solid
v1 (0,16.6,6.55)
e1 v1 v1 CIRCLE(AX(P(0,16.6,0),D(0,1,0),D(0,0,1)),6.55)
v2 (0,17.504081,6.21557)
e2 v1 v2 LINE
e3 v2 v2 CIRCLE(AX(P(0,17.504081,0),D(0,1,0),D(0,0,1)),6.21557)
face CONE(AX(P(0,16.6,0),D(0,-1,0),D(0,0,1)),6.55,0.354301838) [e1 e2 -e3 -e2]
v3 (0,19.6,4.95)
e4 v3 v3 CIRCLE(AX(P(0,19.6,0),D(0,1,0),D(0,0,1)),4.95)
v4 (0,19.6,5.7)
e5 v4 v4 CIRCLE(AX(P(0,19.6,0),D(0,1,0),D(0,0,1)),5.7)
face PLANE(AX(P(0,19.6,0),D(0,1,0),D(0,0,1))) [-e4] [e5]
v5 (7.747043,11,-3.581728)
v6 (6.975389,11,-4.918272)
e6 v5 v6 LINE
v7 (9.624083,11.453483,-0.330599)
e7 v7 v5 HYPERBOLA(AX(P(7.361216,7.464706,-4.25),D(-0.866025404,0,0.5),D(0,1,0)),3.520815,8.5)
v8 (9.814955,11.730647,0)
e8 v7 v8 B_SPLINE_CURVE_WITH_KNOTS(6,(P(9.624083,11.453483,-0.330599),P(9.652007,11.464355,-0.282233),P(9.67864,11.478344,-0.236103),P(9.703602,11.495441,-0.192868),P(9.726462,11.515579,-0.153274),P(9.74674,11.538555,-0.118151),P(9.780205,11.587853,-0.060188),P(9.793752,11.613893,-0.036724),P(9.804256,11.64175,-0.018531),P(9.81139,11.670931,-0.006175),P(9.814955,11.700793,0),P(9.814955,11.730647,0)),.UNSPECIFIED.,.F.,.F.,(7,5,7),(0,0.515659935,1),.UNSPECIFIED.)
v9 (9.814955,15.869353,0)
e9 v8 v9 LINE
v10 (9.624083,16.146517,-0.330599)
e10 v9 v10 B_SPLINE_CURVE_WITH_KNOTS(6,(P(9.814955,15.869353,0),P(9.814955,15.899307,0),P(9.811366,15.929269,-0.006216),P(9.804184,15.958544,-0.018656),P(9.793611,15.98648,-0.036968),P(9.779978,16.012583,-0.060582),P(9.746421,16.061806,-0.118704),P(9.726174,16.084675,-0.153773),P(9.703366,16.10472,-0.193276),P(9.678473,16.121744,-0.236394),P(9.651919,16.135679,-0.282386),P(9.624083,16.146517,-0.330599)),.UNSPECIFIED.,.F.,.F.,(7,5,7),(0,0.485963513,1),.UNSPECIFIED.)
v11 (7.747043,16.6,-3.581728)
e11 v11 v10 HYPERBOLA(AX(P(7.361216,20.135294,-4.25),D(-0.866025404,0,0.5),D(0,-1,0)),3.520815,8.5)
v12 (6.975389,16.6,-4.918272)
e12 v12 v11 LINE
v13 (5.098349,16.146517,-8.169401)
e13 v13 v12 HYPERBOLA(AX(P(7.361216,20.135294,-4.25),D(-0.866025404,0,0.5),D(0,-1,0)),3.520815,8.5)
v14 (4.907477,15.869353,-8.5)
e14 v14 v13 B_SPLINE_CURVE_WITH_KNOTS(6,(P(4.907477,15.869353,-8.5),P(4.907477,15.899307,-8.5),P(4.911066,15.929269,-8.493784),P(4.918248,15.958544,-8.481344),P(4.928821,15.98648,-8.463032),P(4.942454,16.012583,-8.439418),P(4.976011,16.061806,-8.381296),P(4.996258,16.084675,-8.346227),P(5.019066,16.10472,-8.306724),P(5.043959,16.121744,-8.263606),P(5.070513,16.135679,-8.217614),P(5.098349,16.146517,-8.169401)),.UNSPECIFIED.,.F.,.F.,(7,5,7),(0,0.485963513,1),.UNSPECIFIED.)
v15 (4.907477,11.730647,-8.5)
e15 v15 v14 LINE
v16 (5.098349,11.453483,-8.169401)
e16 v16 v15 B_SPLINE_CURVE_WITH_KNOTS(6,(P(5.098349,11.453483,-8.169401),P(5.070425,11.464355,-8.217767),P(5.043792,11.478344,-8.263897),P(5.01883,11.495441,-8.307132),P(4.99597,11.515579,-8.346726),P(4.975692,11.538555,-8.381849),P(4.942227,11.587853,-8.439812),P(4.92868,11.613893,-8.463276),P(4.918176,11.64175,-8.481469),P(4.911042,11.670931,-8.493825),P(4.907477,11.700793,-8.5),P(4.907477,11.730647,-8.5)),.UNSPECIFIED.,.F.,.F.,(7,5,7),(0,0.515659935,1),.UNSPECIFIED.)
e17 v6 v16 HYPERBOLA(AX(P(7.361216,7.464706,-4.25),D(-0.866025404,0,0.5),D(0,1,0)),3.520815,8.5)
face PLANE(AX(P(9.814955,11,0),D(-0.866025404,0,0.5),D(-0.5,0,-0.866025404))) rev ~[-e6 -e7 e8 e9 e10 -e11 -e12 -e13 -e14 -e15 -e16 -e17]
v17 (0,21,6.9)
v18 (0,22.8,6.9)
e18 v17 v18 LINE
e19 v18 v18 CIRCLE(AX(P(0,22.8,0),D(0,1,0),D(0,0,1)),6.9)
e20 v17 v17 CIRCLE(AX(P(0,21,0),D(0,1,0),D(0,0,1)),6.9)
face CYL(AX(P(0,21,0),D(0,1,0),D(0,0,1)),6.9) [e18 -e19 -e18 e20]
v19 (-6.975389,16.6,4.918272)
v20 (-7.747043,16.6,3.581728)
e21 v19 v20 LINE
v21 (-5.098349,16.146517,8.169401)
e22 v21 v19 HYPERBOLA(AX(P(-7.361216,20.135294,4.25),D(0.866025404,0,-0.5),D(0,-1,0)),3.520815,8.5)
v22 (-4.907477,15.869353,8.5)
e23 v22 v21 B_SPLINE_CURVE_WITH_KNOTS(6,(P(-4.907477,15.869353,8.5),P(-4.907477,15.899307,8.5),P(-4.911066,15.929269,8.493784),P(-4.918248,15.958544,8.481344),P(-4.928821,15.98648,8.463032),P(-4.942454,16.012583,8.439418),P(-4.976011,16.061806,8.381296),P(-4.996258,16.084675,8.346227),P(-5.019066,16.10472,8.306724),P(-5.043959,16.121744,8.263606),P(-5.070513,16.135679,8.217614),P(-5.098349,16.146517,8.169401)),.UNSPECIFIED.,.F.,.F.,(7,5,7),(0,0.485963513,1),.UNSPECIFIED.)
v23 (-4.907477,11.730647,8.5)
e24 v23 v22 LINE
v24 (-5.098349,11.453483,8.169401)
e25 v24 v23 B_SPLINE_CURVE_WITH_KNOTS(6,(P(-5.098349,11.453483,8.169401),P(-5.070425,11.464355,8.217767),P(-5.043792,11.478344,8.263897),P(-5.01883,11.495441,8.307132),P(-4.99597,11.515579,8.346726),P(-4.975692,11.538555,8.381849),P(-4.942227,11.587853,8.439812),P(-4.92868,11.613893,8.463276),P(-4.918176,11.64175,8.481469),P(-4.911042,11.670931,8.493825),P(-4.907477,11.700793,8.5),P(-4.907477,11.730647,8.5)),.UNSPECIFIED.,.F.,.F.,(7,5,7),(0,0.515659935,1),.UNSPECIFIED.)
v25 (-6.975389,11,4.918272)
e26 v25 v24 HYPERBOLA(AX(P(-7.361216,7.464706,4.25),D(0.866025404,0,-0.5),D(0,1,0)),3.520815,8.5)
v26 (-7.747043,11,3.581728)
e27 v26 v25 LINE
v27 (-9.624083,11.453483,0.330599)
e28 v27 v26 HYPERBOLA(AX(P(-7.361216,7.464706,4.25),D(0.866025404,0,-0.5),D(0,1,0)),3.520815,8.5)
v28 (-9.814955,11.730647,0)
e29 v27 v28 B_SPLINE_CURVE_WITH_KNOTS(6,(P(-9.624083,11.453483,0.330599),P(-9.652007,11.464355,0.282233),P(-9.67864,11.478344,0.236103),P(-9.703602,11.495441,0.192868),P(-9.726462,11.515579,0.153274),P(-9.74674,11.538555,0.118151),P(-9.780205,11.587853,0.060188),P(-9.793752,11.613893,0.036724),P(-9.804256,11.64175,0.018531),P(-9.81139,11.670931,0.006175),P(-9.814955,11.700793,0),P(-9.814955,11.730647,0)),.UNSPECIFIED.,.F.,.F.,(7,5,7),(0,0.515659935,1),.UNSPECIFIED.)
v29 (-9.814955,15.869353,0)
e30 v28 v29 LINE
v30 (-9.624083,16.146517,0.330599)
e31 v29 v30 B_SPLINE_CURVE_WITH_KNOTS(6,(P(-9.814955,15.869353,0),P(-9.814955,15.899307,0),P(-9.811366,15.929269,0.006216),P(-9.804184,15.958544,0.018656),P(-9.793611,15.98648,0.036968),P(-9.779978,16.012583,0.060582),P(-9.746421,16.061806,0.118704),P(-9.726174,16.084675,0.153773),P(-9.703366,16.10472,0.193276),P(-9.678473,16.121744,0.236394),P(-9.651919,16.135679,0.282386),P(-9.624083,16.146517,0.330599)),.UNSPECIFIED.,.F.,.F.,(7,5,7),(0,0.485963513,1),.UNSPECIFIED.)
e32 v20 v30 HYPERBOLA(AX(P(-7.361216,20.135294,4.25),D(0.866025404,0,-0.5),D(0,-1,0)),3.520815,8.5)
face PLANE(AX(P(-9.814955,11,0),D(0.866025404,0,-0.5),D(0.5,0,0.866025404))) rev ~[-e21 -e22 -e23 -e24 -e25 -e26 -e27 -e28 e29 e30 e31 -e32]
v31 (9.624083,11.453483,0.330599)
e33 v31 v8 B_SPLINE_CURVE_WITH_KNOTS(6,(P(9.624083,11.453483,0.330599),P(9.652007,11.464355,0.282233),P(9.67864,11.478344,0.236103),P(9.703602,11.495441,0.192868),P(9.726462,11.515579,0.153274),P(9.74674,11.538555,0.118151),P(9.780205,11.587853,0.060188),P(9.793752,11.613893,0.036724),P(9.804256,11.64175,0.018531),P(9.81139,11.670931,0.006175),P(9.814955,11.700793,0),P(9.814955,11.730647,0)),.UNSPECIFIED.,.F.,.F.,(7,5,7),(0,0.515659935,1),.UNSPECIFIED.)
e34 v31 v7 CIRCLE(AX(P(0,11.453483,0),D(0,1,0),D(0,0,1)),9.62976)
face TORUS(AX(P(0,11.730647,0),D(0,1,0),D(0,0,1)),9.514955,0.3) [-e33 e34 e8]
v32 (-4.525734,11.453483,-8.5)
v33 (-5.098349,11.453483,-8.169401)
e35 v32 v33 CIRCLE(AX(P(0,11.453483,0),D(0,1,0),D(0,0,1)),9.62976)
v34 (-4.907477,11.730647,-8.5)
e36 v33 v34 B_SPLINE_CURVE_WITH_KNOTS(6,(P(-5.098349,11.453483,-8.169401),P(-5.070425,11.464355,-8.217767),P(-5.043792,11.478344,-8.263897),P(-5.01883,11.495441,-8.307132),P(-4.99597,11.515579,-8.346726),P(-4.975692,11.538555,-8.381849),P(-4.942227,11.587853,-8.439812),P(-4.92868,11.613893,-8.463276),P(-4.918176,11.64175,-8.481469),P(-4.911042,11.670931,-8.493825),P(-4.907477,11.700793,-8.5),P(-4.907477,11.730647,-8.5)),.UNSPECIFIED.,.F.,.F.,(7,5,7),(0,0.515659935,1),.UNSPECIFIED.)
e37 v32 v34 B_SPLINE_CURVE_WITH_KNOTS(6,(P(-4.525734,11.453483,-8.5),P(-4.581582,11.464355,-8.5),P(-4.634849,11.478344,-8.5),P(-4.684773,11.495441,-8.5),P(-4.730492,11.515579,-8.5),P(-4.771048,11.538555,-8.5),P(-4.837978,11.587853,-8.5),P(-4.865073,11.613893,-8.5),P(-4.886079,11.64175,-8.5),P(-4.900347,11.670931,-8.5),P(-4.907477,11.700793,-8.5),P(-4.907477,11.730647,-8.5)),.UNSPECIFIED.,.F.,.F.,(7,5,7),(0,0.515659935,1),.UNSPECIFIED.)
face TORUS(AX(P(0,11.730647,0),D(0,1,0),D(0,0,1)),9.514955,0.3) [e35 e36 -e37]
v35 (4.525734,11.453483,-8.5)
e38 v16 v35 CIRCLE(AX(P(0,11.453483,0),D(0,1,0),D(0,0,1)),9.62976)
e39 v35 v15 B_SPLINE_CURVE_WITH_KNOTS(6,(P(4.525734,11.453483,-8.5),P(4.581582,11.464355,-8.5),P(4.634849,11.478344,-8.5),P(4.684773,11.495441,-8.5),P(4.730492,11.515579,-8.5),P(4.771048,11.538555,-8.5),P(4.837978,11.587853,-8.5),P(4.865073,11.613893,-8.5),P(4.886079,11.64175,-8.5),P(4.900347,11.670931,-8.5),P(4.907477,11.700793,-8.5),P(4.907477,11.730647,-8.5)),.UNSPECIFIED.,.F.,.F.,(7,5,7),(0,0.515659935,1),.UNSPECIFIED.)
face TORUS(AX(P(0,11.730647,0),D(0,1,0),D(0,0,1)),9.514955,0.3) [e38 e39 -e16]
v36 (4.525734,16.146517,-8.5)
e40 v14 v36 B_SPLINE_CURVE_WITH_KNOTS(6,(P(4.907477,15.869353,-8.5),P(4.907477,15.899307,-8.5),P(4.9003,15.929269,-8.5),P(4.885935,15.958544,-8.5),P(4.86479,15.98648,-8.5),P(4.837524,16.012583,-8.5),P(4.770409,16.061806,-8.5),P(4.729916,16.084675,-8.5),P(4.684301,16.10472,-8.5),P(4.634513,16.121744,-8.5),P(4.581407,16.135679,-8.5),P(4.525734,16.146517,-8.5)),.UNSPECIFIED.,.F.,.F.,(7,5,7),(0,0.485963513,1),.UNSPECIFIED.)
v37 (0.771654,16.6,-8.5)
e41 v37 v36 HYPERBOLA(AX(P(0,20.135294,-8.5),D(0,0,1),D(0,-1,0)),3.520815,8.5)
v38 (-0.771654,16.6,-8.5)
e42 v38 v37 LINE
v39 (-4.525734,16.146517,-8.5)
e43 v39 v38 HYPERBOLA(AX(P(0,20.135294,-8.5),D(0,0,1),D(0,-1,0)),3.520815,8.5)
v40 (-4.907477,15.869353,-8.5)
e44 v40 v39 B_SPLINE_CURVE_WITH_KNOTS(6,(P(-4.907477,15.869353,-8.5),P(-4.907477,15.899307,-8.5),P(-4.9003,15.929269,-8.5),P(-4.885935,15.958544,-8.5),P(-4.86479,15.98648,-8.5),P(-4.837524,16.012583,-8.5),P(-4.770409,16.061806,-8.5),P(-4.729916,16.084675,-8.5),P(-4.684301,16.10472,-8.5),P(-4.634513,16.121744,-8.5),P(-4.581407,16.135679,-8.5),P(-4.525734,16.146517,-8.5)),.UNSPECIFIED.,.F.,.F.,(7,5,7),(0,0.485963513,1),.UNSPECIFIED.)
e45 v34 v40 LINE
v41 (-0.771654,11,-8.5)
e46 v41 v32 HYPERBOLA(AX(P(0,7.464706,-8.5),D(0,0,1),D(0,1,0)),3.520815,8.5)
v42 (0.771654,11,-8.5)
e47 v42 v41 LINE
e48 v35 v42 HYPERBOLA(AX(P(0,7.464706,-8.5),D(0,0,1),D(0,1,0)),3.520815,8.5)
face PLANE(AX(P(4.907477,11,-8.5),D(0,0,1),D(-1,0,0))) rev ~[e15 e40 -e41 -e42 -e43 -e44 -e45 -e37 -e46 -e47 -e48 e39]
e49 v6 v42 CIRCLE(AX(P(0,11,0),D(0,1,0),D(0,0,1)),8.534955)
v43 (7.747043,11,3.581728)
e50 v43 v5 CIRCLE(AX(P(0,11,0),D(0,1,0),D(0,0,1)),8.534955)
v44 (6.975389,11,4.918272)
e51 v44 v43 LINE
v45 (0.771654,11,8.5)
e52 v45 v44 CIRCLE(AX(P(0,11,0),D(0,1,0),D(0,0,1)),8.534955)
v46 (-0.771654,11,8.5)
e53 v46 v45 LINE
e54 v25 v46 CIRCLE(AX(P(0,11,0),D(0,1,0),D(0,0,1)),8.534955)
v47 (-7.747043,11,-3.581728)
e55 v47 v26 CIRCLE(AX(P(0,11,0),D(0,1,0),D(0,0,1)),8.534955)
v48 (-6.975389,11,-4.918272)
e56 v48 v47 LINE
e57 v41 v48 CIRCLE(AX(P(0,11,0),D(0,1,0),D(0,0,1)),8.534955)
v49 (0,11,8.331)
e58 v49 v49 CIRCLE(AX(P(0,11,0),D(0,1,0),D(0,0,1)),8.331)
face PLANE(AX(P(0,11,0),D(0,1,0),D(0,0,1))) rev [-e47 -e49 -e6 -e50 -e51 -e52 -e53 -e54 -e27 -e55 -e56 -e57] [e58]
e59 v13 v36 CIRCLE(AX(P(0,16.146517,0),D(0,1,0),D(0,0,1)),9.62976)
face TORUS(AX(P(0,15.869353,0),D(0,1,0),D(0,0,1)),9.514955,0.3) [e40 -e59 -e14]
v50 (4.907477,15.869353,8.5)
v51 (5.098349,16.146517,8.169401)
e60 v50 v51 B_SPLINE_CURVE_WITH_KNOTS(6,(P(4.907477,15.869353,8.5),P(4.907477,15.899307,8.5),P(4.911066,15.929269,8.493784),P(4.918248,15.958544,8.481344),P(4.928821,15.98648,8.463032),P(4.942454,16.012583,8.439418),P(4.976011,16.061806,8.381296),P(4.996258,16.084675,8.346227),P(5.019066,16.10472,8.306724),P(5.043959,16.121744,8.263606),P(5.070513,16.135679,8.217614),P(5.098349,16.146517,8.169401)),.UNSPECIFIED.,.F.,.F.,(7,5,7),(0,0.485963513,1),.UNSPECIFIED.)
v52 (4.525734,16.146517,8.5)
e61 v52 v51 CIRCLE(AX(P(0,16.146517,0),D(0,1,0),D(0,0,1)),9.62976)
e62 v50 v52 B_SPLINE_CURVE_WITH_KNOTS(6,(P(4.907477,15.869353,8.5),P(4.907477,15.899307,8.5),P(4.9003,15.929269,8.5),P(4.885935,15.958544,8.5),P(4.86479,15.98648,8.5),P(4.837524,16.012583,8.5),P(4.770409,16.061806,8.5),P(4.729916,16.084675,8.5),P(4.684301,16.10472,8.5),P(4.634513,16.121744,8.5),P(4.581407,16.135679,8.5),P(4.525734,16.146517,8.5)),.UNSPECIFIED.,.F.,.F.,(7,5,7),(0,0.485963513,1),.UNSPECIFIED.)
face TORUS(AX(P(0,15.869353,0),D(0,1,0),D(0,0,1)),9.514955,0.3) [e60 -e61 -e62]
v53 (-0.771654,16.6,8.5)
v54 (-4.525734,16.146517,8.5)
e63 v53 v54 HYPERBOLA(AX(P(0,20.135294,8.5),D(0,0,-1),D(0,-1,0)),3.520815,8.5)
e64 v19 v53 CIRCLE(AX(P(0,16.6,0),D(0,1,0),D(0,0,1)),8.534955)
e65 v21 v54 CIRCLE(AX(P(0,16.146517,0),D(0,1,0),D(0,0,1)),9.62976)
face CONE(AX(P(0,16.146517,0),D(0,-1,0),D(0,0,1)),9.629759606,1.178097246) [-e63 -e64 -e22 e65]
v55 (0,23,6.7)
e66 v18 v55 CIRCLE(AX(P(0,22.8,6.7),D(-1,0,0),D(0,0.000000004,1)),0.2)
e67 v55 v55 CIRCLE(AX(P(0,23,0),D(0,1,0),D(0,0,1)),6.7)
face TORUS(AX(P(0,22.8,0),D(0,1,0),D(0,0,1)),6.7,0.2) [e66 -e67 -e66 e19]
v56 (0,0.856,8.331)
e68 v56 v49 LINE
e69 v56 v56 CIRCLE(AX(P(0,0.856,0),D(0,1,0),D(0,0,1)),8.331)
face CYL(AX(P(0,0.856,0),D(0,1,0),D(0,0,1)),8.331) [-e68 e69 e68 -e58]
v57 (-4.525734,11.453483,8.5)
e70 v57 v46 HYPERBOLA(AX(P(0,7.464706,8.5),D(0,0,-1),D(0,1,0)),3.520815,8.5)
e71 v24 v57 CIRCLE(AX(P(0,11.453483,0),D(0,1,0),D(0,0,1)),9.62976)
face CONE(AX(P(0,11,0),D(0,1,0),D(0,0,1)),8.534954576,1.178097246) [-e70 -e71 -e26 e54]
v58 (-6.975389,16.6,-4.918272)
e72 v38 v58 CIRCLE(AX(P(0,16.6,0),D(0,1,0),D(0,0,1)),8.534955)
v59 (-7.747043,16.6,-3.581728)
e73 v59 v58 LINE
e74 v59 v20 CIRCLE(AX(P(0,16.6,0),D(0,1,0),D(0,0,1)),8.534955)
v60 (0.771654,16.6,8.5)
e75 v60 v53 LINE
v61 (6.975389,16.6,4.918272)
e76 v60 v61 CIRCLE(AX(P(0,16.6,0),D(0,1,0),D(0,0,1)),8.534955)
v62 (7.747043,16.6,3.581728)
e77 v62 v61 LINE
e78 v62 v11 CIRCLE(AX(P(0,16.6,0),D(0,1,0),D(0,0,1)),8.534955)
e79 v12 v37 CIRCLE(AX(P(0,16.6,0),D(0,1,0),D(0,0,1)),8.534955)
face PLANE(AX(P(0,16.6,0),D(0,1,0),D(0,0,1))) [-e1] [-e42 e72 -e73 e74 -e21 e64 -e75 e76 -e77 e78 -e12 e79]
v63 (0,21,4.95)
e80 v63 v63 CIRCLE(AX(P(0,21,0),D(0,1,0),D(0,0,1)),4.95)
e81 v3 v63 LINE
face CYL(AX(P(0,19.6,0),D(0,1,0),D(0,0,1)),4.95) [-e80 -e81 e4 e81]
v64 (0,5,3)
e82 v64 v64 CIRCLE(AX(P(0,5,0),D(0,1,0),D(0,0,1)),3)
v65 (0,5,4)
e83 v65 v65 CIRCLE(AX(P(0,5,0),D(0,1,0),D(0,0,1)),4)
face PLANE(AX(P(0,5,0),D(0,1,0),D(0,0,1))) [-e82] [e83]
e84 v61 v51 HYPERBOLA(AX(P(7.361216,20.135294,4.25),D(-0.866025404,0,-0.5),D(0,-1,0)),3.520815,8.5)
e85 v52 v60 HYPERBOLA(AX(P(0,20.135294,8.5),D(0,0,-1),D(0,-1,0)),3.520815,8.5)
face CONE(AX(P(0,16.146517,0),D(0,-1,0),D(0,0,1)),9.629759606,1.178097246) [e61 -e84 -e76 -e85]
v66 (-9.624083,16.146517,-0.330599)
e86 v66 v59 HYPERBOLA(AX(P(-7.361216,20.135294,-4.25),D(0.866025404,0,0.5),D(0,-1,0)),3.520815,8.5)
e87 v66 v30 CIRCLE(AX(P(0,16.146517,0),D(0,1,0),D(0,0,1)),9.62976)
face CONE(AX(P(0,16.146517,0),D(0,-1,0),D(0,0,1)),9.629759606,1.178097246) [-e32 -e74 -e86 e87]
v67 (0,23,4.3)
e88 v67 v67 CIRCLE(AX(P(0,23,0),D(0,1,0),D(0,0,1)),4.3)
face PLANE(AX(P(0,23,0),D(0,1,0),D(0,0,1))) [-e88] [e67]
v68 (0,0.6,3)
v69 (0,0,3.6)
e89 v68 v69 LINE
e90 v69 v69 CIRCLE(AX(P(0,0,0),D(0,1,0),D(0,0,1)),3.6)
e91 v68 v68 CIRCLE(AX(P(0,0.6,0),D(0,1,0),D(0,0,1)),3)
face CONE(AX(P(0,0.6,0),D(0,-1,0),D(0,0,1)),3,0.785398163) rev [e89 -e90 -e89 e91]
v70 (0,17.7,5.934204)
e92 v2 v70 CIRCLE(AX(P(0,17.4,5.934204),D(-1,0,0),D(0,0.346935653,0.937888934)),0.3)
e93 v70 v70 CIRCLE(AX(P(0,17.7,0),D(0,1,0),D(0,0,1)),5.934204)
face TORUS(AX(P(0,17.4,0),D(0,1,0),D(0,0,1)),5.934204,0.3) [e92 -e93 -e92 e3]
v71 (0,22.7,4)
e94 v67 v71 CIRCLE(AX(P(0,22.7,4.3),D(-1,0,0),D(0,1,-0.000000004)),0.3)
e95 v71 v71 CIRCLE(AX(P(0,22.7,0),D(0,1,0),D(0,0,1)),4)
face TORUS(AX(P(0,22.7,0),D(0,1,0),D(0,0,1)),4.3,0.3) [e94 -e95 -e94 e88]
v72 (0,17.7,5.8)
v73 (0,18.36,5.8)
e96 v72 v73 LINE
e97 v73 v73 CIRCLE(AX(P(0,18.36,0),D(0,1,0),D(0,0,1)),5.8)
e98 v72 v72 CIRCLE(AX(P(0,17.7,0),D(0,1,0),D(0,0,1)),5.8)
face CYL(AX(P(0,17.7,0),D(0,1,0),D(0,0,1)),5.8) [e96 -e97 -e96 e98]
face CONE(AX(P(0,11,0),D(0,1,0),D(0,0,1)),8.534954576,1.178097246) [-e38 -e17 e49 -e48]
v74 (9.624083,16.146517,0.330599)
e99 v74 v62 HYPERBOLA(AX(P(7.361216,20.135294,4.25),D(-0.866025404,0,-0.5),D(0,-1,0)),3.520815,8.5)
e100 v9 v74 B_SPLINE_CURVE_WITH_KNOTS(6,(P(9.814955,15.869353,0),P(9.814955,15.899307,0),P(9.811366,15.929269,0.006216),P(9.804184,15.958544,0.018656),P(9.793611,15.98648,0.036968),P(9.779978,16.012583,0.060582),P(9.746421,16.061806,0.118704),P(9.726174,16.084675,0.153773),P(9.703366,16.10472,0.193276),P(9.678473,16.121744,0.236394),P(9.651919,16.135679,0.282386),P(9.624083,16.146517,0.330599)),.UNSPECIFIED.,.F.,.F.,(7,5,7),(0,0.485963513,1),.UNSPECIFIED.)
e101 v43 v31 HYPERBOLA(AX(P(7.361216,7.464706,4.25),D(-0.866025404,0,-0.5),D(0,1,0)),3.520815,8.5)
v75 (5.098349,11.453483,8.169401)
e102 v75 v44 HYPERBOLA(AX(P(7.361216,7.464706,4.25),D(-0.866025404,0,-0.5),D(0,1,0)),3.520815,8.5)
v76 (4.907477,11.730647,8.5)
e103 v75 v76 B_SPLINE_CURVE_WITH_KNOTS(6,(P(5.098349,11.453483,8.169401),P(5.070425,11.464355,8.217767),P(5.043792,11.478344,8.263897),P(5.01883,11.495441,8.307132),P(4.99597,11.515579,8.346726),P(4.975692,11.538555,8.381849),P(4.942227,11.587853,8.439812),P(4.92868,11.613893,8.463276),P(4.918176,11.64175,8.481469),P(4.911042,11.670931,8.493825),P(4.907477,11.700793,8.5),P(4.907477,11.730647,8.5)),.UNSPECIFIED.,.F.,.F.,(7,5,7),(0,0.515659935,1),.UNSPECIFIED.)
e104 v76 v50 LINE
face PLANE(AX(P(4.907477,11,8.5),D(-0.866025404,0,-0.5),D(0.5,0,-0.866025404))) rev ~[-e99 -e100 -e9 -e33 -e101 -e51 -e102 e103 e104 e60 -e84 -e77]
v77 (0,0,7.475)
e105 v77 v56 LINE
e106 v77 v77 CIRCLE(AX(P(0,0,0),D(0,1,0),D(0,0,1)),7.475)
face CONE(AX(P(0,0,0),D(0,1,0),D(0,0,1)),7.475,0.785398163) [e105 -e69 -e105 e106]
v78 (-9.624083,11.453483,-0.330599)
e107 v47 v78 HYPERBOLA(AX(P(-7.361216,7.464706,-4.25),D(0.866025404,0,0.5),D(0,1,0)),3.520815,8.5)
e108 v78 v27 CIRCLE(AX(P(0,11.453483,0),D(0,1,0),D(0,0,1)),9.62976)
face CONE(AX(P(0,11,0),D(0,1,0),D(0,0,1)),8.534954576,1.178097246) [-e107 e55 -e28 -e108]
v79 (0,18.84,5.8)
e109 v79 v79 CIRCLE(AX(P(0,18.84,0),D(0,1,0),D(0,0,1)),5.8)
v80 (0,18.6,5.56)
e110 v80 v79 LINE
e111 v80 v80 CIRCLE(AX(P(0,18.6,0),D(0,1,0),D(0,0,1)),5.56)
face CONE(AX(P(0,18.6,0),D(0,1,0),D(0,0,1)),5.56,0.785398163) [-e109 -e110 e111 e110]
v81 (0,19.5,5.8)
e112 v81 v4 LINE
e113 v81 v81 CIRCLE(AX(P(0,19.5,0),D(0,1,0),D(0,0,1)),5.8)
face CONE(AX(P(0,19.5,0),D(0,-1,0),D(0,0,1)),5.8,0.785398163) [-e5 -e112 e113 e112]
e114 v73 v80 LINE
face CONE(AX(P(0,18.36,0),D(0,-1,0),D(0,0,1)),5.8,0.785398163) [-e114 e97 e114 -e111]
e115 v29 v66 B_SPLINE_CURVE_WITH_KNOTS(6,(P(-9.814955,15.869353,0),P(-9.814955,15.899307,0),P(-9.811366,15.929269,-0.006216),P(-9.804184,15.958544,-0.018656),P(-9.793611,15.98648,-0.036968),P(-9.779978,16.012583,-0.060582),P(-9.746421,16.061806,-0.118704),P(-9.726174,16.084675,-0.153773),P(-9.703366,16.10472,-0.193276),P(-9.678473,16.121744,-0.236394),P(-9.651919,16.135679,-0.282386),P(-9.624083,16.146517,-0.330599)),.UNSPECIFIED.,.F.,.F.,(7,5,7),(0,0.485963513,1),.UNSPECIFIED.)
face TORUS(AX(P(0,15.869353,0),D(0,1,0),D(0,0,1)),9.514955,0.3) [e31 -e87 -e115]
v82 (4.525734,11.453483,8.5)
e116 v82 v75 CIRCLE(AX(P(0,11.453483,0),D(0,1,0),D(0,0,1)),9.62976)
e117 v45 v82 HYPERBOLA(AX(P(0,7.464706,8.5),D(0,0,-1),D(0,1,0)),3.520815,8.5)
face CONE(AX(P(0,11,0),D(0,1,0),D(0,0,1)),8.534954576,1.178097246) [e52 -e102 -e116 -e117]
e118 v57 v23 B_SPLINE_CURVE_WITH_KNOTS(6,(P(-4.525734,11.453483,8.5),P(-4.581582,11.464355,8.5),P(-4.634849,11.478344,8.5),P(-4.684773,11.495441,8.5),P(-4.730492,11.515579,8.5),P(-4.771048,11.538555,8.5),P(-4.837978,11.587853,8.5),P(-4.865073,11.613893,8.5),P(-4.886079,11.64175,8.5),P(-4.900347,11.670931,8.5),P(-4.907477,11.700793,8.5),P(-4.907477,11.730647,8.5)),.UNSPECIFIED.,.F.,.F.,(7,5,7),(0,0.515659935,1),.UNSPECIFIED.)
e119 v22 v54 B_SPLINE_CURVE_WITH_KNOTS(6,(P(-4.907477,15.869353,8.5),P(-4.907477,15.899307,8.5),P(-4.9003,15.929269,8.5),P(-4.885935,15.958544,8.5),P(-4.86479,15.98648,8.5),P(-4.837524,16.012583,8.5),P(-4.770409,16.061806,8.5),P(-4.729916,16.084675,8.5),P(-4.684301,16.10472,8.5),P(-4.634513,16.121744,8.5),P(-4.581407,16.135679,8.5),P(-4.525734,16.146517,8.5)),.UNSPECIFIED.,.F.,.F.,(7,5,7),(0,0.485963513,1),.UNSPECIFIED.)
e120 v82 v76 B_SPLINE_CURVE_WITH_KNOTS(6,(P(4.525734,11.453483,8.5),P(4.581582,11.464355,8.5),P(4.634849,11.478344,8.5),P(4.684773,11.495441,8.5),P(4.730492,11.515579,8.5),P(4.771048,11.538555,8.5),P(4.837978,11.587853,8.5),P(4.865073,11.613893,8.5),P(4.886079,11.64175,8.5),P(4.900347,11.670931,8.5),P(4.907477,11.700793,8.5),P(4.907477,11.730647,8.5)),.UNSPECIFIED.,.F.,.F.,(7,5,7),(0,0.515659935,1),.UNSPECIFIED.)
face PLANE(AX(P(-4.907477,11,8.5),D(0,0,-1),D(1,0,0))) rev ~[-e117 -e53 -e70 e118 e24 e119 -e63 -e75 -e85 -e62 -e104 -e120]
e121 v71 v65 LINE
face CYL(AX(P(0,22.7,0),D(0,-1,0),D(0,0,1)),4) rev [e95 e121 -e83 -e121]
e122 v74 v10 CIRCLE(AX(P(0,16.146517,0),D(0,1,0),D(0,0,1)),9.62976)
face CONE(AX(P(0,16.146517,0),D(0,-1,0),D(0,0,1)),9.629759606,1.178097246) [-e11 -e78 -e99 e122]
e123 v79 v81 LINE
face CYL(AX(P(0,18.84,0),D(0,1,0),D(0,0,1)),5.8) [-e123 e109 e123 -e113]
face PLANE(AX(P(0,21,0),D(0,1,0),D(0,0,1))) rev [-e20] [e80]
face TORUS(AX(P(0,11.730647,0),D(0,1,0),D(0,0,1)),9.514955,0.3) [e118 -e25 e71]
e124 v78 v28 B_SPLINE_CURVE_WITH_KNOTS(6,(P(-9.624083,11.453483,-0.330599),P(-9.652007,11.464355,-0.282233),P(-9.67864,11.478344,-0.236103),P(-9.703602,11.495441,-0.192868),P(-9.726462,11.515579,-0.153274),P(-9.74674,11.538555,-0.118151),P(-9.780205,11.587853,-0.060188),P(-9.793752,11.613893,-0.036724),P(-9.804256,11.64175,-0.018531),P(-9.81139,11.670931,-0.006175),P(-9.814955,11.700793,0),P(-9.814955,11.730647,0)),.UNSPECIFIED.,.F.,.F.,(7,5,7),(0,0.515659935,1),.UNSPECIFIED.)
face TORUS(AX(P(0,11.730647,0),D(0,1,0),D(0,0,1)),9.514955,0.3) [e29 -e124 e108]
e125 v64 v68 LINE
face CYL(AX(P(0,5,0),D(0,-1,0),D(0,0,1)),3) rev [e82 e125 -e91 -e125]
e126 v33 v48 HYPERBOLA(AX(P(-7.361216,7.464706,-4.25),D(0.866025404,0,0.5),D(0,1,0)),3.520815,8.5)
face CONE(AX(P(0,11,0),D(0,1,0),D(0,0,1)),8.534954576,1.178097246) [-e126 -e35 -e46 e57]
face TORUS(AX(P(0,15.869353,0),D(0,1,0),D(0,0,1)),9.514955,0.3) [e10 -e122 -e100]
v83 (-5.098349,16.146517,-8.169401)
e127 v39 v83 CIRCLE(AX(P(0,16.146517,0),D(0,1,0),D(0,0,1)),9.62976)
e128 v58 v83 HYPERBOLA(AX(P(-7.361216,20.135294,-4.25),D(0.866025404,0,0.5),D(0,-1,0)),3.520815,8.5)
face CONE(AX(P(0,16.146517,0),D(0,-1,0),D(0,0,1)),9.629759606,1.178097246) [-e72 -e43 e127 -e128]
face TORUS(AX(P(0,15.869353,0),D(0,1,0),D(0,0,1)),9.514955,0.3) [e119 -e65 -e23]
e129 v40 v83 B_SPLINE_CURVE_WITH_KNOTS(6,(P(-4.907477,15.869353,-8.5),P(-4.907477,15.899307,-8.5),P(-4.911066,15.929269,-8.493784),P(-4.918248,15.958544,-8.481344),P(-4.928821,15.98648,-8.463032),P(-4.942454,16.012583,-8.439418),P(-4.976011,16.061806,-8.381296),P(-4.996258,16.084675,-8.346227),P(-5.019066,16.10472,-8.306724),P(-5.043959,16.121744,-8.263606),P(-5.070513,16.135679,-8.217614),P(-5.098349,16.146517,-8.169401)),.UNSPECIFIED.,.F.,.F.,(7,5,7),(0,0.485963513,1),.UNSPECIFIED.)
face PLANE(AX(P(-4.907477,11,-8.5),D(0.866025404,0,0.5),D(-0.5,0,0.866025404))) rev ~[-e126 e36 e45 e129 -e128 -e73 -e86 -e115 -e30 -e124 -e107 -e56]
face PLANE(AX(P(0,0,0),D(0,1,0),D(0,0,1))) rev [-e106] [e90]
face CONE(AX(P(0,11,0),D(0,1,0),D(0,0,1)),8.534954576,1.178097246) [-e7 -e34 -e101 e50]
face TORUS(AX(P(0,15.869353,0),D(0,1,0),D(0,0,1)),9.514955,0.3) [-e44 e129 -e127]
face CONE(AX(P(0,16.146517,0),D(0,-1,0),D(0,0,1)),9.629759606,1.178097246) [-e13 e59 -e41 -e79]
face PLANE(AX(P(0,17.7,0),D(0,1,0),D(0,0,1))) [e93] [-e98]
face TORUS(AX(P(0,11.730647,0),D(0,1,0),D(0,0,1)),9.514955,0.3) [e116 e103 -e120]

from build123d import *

# Parameters (mm, degrees)
SKETCH_2_R          = 11.814954576
CUT_EXTRUDE_1_DEPTH = 23


with BuildPart() as part:
    # 草图1 → 旋转1 (revolve)
    with BuildSketch(Plane.XY, mode=Mode.PRIVATE) as revolve_1_sk:
        with BuildLine():
            Line((3, 5), (3, 0.6))
            Line((3, 0.6), (3.6, 0))
            Line((3.6, 0), (7.475, 0))
            Line((7.475, 0), (8.331, 0.856))
            Line((8.331, 0.856), (8.331, 11))
            Line((8.331, 11), (8.534954576, 11))
            Line((8.534954576, 11), (9.629759606, 11.453483091))
            ThreePointArc((9.629759606, 11.453483091), (9.76439546, 11.563975881), (9.814954576, 11.730646951))
            Line((9.814954576, 11.730646951), (9.814954576, 15.869353049))
            ThreePointArc((9.814954576, 15.869353049), (9.76439546, 16.036024119), (9.629759606, 16.146516909))
            Line((9.629759606, 16.146516909), (8.534954576, 16.6))
            Line((8.534954576, 16.6), (6.55, 16.6))
            Line((6.55, 16.6), (6.215570396, 17.504080695))
            ThreePointArc((6.215570396, 17.504080695), (6.105632697, 17.646195256), (5.934203715, 17.7))
            Line((5.934203715, 17.7), (5.8, 17.7))
            Line((5.8, 17.7), (5.8, 18.36))
            Line((5.8, 18.36), (5.56, 18.6))
            Line((5.56, 18.6), (5.8, 18.84))
            Line((5.8, 18.84), (5.8, 19.5))
            Line((5.8, 19.5), (5.7, 19.6))
            Line((5.7, 19.6), (4.95, 19.6))
            Line((4.95, 19.6), (4.95, 21))
            Line((4.95, 21), (6.9, 21))
            Line((6.9, 21), (6.9, 22.8))
            ThreePointArc((6.9, 22.8), (6.841421356, 22.941421356), (6.7, 23))
            Line((6.7, 23), (4.3, 23))
            ThreePointArc((4.3, 23), (4.087867966, 22.912132034), (4, 22.7))
            Line((4, 22.7), (4, 5))
            Line((4, 5), (3, 5))
        make_face()
    revolve(revolve_1_sk.sketch.rotate(Axis((0, 0, 0), (0, 1, 0)), 270), axis=Axis((0, 0, 0), (0, 1, 0)))

    # 草图2 → 切除-拉伸1 (cut)
    with BuildSketch(Plane(origin=(0, 11, 0), x_dir=(1, 0, 0), z_dir=(0, 1, 0))):
        Circle(SKETCH_2_R)
        Polygon((-9.814954576, 0), (-4.907477288, -8.5), (4.907477288, -8.5), (9.814954576, 0), (4.907477288, 8.5), (-4.907477288, 8.5), align=None, mode=Mode.SUBTRACT)
    extrude(amount=CUT_EXTRUDE_1_DEPTH, mode=Mode.SUBTRACT)


solid = part.part
